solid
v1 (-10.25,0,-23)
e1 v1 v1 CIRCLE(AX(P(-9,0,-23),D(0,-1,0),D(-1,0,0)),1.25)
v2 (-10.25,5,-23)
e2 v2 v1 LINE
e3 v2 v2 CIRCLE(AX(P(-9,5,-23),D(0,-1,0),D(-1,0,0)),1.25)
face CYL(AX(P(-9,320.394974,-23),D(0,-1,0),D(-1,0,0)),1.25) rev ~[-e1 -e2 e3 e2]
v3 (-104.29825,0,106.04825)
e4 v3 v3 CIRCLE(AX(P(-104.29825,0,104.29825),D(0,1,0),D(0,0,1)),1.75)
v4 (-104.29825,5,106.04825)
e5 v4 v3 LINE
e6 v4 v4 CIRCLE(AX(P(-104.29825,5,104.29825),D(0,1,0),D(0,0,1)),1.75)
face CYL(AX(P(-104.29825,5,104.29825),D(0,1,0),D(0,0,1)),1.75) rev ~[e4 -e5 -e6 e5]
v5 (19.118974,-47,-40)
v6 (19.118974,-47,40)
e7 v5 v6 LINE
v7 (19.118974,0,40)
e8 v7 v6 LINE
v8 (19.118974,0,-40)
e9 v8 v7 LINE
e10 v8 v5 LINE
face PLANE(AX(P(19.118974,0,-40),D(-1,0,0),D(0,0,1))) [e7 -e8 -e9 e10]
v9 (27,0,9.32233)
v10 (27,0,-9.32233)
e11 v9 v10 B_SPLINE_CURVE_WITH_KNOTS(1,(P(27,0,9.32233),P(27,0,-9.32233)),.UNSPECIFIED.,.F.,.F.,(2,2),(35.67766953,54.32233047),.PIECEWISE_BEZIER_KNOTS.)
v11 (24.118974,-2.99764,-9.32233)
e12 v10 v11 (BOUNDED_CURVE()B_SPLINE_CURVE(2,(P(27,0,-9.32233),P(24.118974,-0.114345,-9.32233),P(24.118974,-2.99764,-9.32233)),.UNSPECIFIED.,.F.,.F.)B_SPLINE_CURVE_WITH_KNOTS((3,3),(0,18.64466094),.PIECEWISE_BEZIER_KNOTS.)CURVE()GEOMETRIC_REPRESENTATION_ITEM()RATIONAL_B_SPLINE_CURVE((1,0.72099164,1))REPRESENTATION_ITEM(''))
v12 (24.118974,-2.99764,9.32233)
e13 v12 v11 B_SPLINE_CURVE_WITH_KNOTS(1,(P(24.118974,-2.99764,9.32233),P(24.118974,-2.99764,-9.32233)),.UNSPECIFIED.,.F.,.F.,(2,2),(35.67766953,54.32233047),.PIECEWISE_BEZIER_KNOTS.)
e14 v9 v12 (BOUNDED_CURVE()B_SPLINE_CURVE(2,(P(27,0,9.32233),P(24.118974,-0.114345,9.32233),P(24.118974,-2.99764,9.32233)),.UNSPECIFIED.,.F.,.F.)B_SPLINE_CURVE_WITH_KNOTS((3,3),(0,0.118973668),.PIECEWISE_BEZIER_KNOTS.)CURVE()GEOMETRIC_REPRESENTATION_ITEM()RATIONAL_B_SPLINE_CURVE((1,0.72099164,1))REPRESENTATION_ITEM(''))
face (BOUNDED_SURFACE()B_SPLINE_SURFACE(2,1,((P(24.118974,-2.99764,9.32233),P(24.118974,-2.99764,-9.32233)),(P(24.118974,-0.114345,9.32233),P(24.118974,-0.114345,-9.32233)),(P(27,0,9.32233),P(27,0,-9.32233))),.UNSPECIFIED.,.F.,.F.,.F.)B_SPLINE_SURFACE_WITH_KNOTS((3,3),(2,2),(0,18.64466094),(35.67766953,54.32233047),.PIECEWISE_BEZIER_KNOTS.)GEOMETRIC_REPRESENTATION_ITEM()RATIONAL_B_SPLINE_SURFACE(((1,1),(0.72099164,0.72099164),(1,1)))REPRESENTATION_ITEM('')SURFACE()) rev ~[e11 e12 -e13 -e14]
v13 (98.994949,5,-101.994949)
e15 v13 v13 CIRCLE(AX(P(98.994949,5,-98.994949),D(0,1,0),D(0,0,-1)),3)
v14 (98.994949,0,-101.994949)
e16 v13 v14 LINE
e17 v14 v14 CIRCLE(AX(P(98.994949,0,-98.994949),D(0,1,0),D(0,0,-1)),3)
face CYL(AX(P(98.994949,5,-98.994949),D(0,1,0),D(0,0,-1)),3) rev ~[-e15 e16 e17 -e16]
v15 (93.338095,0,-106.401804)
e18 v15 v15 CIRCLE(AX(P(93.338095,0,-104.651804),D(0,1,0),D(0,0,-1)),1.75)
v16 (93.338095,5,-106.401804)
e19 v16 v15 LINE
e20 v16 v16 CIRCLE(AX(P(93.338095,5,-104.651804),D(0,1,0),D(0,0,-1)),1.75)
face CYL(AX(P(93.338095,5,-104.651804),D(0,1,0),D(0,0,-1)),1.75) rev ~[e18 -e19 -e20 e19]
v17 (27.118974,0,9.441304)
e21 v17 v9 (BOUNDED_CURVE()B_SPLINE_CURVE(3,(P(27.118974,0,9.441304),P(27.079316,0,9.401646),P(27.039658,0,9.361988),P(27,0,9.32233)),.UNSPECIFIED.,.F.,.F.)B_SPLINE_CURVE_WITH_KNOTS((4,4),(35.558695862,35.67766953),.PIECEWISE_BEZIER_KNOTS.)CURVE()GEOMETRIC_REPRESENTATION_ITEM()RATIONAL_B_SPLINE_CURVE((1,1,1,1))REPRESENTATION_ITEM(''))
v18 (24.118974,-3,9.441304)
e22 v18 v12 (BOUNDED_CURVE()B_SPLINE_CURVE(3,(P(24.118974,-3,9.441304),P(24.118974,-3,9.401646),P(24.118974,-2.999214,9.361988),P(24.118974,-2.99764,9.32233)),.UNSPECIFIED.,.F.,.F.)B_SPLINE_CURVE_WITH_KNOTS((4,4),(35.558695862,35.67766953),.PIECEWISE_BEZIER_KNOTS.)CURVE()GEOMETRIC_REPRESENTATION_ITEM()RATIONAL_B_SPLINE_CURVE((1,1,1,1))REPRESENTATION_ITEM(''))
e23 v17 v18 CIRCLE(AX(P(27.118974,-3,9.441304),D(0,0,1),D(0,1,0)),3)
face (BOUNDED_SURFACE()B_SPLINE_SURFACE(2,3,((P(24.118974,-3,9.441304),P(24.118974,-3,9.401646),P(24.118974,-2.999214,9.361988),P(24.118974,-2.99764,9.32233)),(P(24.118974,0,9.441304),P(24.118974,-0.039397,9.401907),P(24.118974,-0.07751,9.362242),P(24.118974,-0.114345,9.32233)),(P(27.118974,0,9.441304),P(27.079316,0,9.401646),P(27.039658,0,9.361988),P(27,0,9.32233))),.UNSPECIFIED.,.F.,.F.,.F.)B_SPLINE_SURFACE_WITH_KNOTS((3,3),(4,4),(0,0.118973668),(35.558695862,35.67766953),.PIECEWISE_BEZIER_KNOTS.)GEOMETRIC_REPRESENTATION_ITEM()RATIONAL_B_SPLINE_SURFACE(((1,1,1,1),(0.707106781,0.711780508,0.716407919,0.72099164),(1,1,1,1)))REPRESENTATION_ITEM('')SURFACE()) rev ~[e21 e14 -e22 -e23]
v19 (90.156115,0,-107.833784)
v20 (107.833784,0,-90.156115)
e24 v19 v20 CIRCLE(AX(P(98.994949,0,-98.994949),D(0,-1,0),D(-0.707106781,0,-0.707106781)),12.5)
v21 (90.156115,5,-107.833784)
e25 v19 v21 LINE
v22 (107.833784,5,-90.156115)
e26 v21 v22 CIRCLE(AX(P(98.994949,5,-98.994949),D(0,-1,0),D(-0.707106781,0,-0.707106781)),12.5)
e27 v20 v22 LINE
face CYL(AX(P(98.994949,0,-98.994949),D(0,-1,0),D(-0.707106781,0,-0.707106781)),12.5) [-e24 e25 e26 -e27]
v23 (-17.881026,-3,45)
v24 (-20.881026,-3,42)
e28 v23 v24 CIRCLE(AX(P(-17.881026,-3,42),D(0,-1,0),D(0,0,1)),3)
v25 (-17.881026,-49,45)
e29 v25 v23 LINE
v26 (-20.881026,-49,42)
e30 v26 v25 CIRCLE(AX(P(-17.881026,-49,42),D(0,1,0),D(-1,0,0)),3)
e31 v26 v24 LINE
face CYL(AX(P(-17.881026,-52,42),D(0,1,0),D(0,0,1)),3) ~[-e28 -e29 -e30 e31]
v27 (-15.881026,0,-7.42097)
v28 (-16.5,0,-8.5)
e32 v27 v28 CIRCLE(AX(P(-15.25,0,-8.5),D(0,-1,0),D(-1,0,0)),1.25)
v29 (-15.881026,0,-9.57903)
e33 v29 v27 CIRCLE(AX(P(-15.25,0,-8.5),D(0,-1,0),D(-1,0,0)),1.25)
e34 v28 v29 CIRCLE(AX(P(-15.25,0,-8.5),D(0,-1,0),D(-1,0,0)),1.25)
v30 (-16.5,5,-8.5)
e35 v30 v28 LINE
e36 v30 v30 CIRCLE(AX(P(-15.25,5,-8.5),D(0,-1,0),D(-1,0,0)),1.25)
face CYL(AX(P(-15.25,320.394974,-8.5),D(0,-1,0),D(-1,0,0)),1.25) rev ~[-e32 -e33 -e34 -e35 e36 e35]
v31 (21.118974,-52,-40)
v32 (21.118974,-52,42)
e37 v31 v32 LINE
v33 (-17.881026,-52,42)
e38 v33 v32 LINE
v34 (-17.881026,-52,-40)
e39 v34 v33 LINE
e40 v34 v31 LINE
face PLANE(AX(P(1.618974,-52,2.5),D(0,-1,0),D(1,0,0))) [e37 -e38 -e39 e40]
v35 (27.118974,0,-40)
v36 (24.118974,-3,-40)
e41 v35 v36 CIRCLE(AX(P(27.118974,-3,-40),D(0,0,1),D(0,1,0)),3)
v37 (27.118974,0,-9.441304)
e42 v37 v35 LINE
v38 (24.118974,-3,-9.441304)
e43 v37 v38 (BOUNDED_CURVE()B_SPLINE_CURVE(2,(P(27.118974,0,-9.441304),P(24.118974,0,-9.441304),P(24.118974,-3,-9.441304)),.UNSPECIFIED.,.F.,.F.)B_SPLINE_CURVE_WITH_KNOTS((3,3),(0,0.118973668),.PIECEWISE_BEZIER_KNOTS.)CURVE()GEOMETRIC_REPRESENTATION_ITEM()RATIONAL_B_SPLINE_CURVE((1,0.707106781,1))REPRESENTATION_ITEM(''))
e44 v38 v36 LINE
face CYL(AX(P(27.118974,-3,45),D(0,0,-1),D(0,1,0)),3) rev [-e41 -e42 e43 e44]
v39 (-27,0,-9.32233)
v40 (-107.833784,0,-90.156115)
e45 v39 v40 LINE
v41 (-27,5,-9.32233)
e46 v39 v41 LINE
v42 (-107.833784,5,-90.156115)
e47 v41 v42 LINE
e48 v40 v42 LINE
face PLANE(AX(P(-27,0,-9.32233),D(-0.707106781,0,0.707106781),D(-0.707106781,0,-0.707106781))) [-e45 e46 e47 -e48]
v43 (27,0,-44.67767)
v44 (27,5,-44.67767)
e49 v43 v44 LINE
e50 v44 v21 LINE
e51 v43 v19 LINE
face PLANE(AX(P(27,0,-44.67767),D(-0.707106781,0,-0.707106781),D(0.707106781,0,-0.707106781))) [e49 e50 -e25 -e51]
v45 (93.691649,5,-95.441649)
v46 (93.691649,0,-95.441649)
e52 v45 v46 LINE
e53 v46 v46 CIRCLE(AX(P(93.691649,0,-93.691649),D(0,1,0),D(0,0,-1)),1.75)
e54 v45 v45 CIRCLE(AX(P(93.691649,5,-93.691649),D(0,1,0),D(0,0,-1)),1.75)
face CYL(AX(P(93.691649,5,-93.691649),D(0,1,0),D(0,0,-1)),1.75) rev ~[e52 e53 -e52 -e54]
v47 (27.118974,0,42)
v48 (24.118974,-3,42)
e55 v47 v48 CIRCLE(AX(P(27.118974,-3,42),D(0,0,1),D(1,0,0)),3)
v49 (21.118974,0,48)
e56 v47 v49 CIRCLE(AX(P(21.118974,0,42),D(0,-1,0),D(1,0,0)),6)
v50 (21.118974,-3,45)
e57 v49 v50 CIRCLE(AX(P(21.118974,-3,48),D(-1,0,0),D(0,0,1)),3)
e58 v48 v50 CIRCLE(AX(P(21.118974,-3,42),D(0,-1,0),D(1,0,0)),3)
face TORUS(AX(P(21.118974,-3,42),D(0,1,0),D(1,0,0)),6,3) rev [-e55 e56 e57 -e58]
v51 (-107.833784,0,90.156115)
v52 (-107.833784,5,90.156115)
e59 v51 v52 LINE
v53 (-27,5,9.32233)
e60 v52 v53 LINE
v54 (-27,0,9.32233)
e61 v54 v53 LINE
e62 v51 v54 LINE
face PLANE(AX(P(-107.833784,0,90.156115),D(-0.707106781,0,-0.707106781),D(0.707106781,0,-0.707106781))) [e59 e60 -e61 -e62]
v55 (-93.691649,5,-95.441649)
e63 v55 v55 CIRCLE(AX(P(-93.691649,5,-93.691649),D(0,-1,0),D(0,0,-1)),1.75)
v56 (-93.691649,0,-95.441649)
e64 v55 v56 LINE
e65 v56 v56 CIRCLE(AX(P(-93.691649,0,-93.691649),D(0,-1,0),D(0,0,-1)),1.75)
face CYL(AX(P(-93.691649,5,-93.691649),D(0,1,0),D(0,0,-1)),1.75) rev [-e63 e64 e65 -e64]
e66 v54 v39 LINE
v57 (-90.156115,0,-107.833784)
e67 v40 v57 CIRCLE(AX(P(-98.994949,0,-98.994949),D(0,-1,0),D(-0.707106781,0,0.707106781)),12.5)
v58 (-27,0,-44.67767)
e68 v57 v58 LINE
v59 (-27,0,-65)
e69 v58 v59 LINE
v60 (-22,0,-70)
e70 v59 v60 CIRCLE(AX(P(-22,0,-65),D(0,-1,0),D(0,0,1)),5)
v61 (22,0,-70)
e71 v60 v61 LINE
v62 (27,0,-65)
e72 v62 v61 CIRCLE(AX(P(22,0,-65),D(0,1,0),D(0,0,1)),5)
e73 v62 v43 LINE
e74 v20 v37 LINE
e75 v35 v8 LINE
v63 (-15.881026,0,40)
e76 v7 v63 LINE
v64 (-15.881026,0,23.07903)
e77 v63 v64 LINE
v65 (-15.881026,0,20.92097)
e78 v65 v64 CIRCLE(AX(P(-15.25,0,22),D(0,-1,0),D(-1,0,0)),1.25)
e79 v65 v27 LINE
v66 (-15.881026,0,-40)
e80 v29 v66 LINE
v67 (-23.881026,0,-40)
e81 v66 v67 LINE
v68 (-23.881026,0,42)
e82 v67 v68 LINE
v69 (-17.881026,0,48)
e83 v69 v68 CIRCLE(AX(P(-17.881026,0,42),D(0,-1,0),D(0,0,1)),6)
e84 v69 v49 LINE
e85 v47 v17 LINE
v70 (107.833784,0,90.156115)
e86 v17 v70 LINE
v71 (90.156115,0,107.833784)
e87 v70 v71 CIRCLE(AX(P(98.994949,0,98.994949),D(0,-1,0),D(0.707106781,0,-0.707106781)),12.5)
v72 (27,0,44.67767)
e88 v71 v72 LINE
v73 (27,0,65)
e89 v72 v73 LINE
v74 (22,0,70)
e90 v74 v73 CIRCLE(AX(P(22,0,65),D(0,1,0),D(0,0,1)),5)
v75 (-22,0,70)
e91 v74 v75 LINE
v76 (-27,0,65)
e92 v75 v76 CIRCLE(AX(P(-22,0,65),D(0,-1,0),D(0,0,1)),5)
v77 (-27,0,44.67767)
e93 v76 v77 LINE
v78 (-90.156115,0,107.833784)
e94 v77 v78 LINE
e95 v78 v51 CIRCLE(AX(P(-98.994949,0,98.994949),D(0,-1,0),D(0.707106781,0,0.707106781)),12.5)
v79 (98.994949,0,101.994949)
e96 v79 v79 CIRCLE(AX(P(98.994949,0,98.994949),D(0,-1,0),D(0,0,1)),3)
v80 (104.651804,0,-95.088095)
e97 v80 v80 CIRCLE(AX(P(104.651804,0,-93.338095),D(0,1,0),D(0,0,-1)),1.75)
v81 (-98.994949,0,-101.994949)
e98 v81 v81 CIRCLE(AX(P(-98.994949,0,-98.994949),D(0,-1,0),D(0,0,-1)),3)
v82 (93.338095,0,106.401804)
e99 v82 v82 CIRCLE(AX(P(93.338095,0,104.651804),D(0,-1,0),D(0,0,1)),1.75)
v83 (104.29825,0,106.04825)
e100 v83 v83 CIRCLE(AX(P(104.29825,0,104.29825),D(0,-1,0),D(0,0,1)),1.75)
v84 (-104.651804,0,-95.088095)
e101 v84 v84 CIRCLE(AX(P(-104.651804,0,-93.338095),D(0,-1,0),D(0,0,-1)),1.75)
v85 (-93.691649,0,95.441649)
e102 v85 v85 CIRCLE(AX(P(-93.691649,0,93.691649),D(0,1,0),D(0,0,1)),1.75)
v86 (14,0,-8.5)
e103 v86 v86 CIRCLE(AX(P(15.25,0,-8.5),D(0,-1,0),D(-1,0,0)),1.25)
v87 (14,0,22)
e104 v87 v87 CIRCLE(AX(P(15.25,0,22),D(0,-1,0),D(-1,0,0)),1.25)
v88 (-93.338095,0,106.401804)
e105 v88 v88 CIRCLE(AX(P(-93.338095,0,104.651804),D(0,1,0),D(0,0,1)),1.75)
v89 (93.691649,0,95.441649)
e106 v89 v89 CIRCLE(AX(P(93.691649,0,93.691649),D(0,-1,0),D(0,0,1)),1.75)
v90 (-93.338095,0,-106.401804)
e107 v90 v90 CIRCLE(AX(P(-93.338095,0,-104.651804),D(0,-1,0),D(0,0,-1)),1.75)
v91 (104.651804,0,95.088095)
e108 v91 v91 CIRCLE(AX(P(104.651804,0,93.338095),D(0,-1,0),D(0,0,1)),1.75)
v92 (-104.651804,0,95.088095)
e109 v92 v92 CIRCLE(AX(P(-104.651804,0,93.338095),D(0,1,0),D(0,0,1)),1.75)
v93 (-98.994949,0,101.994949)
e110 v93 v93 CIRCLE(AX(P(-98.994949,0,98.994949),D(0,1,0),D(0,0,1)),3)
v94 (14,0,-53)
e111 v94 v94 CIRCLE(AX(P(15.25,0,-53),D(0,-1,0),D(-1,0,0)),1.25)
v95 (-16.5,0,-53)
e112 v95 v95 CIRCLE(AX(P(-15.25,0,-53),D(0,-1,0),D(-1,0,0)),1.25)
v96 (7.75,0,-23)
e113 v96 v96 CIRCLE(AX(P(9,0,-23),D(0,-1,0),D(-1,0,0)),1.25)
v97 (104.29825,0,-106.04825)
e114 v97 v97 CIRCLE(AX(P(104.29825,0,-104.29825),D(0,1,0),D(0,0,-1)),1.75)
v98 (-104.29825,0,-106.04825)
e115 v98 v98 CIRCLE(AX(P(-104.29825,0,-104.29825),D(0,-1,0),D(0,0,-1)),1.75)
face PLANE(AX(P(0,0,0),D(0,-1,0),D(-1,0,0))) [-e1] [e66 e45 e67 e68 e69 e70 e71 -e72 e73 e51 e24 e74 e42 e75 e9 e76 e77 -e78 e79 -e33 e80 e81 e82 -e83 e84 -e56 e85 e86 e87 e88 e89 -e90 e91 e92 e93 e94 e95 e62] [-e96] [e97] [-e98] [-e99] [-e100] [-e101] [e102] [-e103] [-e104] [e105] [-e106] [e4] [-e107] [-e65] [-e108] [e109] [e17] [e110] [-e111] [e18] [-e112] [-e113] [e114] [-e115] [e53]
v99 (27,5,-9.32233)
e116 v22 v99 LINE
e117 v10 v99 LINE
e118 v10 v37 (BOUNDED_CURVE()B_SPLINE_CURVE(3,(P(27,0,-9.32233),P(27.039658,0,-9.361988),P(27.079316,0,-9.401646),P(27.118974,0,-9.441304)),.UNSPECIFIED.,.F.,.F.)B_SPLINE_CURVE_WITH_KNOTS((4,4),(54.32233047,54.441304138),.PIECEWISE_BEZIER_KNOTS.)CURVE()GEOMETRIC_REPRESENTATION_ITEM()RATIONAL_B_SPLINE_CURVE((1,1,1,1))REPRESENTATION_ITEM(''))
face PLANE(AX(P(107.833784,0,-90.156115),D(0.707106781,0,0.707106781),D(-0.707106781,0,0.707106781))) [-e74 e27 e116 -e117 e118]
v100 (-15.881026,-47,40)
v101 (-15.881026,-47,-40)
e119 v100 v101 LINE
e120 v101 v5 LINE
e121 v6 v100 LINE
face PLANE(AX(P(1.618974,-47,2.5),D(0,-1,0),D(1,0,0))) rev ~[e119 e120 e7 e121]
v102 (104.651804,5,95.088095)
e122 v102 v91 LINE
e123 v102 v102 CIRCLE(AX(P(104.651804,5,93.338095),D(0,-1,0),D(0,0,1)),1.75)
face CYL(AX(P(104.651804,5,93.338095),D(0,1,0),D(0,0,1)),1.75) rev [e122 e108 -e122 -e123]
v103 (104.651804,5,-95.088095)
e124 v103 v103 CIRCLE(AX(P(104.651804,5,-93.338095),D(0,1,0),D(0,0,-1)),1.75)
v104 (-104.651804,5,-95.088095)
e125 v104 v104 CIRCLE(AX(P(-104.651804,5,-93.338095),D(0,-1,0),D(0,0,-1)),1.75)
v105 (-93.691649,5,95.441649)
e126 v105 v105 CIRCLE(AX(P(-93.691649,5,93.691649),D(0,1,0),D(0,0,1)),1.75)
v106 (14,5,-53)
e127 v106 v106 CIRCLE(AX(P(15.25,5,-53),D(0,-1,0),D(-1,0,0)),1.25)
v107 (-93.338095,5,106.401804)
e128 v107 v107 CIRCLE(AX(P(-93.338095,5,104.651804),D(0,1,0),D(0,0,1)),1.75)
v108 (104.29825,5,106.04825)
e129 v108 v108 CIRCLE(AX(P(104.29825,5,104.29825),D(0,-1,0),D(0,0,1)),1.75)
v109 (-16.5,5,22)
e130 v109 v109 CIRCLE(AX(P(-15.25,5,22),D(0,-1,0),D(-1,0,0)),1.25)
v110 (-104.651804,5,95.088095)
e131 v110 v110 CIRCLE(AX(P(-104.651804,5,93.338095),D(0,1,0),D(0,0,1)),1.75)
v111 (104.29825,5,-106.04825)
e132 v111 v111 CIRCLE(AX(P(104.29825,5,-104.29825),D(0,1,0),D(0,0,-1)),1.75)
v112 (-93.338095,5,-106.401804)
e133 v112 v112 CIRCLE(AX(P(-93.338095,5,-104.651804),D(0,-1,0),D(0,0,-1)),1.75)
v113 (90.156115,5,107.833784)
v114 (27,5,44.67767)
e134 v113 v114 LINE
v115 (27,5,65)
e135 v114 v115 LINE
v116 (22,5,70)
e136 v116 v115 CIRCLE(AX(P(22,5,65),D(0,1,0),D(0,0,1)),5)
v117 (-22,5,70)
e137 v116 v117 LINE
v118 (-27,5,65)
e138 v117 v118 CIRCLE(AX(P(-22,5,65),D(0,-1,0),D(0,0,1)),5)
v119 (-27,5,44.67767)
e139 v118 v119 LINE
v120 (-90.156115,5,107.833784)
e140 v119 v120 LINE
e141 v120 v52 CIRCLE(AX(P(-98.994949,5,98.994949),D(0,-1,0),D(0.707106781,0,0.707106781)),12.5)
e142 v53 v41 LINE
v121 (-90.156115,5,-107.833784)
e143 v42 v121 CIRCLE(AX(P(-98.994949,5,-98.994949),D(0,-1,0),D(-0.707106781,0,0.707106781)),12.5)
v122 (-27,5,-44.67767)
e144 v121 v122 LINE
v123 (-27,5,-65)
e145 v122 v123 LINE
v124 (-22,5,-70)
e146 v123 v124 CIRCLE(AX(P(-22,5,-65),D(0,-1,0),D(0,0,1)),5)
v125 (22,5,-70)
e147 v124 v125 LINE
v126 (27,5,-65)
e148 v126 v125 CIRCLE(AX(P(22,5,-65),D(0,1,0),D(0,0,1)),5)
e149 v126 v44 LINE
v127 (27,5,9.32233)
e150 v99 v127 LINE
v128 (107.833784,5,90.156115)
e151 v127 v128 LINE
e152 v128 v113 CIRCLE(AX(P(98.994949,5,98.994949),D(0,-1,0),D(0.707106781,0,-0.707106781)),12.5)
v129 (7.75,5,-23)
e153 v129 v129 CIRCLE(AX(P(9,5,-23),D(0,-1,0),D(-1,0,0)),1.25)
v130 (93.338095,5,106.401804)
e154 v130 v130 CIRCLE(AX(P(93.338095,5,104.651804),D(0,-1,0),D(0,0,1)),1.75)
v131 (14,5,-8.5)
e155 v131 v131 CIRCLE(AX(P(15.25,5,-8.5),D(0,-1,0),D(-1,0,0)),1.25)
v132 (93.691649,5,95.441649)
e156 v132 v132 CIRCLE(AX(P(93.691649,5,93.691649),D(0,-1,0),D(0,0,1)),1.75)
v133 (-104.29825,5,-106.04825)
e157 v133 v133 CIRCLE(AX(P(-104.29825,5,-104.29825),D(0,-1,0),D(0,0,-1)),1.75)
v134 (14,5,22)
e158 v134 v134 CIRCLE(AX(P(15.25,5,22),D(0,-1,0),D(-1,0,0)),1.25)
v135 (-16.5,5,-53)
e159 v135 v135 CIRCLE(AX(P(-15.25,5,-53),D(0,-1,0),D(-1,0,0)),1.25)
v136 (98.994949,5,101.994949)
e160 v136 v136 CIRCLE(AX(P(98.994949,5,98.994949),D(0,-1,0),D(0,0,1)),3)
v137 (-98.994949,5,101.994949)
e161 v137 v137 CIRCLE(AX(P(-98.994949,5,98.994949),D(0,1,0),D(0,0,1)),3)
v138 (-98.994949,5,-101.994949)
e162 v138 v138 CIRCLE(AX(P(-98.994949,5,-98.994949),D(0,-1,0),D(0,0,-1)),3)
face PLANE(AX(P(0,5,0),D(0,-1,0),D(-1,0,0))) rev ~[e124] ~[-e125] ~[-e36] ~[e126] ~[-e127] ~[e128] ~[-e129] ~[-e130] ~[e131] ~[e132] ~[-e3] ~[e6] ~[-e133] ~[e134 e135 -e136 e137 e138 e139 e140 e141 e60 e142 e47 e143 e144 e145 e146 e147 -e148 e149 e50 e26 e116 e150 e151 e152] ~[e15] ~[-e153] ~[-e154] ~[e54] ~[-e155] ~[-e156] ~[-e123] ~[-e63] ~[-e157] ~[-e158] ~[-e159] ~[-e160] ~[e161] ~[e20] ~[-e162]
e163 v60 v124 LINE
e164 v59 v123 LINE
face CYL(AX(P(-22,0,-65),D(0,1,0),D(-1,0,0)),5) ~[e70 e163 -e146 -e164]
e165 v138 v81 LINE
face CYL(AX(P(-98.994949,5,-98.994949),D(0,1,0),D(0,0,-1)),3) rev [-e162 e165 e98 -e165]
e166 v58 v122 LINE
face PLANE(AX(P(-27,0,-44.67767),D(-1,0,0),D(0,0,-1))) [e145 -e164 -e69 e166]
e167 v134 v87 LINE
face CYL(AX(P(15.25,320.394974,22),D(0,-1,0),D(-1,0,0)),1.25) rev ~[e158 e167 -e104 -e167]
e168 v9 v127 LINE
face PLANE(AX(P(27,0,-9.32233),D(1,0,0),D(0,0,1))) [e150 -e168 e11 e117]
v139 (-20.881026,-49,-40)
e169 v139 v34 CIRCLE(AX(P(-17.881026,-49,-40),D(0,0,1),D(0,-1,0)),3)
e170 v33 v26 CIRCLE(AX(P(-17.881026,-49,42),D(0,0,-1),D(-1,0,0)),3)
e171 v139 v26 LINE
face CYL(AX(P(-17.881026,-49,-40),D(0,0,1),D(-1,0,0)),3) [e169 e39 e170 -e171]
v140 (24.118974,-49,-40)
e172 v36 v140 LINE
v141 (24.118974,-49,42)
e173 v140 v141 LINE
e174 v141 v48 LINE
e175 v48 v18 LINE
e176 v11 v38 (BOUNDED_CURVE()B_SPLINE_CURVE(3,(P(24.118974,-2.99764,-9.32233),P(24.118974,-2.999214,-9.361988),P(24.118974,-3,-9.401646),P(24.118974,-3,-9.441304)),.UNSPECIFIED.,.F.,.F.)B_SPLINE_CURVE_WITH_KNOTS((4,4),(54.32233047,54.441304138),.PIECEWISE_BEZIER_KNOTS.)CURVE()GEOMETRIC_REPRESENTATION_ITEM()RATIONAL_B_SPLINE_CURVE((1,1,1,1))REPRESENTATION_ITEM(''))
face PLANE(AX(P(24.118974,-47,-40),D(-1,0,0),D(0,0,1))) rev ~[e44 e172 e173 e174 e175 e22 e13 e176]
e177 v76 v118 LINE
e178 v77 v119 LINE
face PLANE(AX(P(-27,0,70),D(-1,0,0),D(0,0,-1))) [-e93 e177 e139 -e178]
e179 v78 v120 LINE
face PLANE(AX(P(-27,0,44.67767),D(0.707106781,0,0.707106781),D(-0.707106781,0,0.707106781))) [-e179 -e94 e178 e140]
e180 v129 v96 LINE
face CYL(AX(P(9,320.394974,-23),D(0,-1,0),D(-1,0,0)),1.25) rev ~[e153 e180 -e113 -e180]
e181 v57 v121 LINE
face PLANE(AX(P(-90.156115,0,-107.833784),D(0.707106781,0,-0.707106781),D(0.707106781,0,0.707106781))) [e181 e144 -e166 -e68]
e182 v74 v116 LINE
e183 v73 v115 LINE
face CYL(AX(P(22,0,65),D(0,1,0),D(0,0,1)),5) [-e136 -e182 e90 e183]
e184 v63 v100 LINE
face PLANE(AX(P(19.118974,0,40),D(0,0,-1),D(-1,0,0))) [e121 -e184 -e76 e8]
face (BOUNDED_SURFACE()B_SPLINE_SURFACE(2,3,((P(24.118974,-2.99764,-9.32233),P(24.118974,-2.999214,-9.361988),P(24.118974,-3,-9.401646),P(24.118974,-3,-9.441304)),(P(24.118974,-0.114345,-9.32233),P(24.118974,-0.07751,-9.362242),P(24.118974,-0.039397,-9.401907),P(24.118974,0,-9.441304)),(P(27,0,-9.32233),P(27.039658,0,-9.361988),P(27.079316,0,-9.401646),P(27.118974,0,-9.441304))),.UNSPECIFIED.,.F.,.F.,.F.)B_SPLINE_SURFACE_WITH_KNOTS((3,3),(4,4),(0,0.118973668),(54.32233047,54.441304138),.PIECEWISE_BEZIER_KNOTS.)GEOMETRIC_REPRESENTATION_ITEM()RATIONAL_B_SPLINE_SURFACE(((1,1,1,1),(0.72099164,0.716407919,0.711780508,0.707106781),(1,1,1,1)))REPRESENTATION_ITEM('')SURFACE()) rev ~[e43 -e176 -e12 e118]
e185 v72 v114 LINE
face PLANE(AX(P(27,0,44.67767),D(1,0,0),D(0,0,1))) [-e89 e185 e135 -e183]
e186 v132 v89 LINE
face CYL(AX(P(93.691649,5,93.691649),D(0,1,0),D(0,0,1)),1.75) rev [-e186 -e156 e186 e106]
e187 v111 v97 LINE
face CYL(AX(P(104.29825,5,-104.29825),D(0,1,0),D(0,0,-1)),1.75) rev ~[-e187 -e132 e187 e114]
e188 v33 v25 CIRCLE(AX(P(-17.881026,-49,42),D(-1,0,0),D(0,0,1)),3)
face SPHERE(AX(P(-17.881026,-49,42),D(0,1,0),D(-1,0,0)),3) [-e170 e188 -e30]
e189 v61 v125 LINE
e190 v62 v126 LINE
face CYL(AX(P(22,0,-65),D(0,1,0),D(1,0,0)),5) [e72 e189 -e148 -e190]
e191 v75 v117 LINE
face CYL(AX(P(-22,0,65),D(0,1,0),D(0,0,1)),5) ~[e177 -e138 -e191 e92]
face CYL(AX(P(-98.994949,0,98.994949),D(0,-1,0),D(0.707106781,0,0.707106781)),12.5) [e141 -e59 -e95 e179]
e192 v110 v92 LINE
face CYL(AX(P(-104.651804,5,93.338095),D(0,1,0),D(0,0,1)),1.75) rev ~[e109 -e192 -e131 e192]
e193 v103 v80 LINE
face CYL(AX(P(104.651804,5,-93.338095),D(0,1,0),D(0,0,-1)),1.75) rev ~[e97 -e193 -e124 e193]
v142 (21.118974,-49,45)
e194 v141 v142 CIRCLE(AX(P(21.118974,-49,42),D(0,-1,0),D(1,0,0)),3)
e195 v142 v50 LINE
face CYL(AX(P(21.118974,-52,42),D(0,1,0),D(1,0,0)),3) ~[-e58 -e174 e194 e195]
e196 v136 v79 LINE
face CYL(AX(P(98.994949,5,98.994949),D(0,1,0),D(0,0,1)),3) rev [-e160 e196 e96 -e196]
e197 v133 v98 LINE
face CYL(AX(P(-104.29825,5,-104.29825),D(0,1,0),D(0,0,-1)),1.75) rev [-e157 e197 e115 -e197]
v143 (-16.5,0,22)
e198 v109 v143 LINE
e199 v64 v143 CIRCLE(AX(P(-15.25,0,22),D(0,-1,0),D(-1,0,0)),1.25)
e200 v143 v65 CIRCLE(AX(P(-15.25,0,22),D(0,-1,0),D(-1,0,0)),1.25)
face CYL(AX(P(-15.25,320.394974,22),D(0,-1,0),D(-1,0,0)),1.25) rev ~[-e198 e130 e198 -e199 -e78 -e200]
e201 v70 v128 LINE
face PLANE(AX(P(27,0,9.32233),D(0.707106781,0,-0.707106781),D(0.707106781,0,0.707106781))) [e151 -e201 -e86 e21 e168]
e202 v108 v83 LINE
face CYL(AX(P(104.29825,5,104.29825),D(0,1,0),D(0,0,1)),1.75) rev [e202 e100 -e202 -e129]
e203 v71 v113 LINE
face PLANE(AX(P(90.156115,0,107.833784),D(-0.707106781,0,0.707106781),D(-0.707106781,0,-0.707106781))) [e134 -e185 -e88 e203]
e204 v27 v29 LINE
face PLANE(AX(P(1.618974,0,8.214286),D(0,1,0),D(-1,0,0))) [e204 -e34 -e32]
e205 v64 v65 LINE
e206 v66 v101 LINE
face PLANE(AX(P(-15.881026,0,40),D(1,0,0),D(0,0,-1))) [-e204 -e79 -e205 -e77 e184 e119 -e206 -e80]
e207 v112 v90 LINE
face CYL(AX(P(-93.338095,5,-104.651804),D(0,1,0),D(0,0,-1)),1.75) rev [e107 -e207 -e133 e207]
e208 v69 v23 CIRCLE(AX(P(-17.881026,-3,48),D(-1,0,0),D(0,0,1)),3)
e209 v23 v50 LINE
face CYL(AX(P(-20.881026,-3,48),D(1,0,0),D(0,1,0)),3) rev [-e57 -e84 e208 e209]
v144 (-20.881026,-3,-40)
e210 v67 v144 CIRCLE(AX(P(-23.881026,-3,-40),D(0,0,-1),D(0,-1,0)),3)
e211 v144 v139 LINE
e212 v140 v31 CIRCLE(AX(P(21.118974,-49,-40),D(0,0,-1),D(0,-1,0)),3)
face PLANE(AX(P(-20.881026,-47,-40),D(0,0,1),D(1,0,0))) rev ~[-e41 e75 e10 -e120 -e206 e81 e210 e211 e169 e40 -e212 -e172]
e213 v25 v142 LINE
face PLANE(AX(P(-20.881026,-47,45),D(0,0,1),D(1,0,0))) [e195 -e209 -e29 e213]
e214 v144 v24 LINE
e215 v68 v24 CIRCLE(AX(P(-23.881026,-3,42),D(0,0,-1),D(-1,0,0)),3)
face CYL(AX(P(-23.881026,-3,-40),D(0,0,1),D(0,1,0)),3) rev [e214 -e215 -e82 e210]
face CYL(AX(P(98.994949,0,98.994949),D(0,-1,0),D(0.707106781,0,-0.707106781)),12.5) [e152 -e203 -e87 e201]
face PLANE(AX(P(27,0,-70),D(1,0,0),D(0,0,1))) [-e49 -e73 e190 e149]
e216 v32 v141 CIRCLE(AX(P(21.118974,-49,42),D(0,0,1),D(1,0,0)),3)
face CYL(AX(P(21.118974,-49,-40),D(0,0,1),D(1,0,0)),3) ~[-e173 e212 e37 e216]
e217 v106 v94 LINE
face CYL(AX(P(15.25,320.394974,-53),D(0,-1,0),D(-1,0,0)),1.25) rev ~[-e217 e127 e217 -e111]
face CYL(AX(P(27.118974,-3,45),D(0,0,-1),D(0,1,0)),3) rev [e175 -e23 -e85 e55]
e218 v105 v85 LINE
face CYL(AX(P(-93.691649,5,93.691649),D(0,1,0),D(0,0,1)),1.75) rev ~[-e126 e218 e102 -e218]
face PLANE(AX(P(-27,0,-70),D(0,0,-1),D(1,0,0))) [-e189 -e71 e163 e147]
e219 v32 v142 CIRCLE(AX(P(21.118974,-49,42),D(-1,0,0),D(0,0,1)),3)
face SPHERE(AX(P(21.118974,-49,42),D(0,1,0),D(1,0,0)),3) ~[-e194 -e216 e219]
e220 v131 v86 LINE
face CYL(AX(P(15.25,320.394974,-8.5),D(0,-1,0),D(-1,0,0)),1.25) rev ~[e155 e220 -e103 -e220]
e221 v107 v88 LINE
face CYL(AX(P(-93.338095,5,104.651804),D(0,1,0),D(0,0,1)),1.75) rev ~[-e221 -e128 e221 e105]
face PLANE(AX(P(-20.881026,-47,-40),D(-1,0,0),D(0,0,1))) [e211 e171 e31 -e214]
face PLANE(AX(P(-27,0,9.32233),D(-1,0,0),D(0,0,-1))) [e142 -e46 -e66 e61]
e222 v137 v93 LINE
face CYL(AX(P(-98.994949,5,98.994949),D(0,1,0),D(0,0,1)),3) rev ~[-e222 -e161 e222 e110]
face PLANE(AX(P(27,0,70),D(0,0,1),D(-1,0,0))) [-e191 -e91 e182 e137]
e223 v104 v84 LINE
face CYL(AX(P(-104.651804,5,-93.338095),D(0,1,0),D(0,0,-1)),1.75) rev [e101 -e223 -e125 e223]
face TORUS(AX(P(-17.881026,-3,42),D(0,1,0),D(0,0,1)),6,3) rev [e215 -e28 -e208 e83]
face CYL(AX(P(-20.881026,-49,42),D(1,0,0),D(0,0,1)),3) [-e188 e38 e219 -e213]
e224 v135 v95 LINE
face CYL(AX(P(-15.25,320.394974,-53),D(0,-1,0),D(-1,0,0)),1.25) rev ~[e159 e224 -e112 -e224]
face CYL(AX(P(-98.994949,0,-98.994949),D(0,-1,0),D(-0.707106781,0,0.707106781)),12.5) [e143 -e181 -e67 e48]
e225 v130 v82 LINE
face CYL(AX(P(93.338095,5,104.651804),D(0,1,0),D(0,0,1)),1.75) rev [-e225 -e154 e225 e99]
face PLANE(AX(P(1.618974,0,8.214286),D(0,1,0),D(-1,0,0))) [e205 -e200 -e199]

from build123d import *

# Parameters (mm, degrees)
BOSS_EXTRUDE1_DEPTH       = 5
CUT_EXTRUDE1_REACH        = 159.757
SKETCH3_R                 = 3
SKETCH3_R_2               = 1.75
MIRROR2_COPY_1_REACH      = 159.757
MIRROR2_COPY_1_SKETCH_R   = 3
MIRROR2_COPY_1_SKETCH_R_2 = 1.75
M3X0_5_TAPPED_HOLE1_D     = 2.5
BOSS_EXTRUDE2_DEPTH       = 47
SKETCH7_W                 = 45
SKETCH7_H                 = 85
BOSS_EXTRUDE3_DEPTH       = 5
FILLET1_R                 = 5
FILLET2_R                 = 3


with BuildPart() as part:
    # Sketch2 → Boss-Extrude1 (new body)
    with BuildSketch(Plane(origin=(0, 0, 0), x_dir=(1, 0, 0), z_dir=(0, 1, 0))):
        with BuildLine():
            Line((-27, 70), (27, 70))
            Line((27, 70), (27, 44.67766953))
            Line((27, 44.67766953), (90.156114601, 107.833784131))
            ThreePointArc((90.156114601, 107.833784131), (107.833784131, 107.833784131), (107.833784131, 90.156114601))
            Line((107.833784131, 90.156114601), (27, 9.32233047))
            Line((27, 9.32233047), (27, -9.32233047))
            Line((27, -9.32233047), (107.833784131, -90.156114601))
            ThreePointArc((107.833784131, -90.156114601), (107.833784131, -107.833784131), (90.156114601, -107.833784131))
            Line((90.156114601, -107.833784131), (27, -44.67766953))
            Line((27, -44.67766953), (27, -70))
            Line((27, -70), (-27, -70))
            Line((-27, -70), (-27, -44.67766953))
            Line((-27, -44.67766953), (-90.156114601, -107.833784131))
            ThreePointArc((-90.156114601, -107.833784131), (-107.833784131, -107.833784131), (-107.833784131, -90.156114601))
            Line((-107.833784131, -90.156114601), (-27, -9.32233047))
            Line((-27, -9.32233047), (-27, 9.32233047))
            Line((-27, 9.32233047), (-107.833784131, 90.156114601))
            ThreePointArc((-107.833784131, 90.156114601), (-107.833784131, 107.833784131), (-90.156114601, 107.833784131))
            Line((-90.156114601, 107.833784131), (-27, 44.67766953))
            Line((-27, 44.67766953), (-27, 70))
        make_face()
    extrude(amount=BOSS_EXTRUDE1_DEPTH)

    # Sketch3 → Cut-Extrude1 (cut, up to next)
    with BuildSketch(Plane(origin=(0, 5, 0), x_dir=(1, 0, 0), z_dir=(0, 1, 0)), mode=Mode.PRIVATE) as cut_extrude1_sk1:
        with Locations(Location((-98.994949366, -98.994949366, 0), (0, 0, 270))):
            Circle(SKETCH3_R)
    cut_extrude1_tool1 = extrude(cut_extrude1_sk1.sketch, amount=-CUT_EXTRUDE1_REACH, mode=Mode.PRIVATE) & part.part
    # Sketch3 → Cut-Extrude1 (cut, up to next)
    with BuildSketch(Plane(origin=(0, 5, 0), x_dir=(1, 0, 0), z_dir=(0, 1, 0)), mode=Mode.PRIVATE) as cut_extrude1_sk2:
        with Locations(Location((-104.298250225, -104.298250225, 0), (0, 0, 270))):
            Circle(SKETCH3_R_2)
    cut_extrude1_tool2 = extrude(cut_extrude1_sk2.sketch, amount=-CUT_EXTRUDE1_REACH, mode=Mode.PRIVATE) & part.part
    # Sketch3 → Cut-Extrude1 (cut, up to next)
    with BuildSketch(Plane(origin=(0, 5, 0), x_dir=(1, 0, 0), z_dir=(0, 1, 0)), mode=Mode.PRIVATE) as cut_extrude1_sk3:
        with Locations(Location((-93.338095117, -104.651803616, 0), (0, 0, 270))):
            Circle(SKETCH3_R_2)
    cut_extrude1_tool3 = extrude(cut_extrude1_sk3.sketch, amount=-CUT_EXTRUDE1_REACH, mode=Mode.PRIVATE) & part.part
    # Sketch3 → Cut-Extrude1 (cut, up to next)
    with BuildSketch(Plane(origin=(0, 5, 0), x_dir=(1, 0, 0), z_dir=(0, 1, 0)), mode=Mode.PRIVATE) as cut_extrude1_sk4:
        with Locations(Location((-104.651803616, -93.338095117, 0), (0, 0, 270))):
            Circle(SKETCH3_R_2)
    cut_extrude1_tool4 = extrude(cut_extrude1_sk4.sketch, amount=-CUT_EXTRUDE1_REACH, mode=Mode.PRIVATE) & part.part
    # Sketch3 → Cut-Extrude1 (cut, up to next)
    with BuildSketch(Plane(origin=(0, 5, 0), x_dir=(1, 0, 0), z_dir=(0, 1, 0)), mode=Mode.PRIVATE) as cut_extrude1_sk5:
        with Locations(Location((-93.691648507, -93.691648507, 0), (0, 0, 270))):
            Circle(SKETCH3_R_2)
    cut_extrude1_tool5 = extrude(cut_extrude1_sk5.sketch, amount=-CUT_EXTRUDE1_REACH, mode=Mode.PRIVATE) & part.part
    cut_extrude1_1 = cut_extrude1_tool1.solids().sort_by_distance((-98.994949, 5, 98.994949))[0]
    add(cut_extrude1_1, mode=Mode.SUBTRACT)
    cut_extrude1_2 = cut_extrude1_tool2.solids().sort_by_distance((-104.29825, 5, 104.29825))[0]
    add(cut_extrude1_2, mode=Mode.SUBTRACT)
    cut_extrude1_3 = cut_extrude1_tool3.solids().sort_by_distance((-93.338095, 5, 104.651804))[0]
    add(cut_extrude1_3, mode=Mode.SUBTRACT)
    cut_extrude1_4 = cut_extrude1_tool4.solids().sort_by_distance((-104.651804, 5, 93.338095))[0]
    add(cut_extrude1_4, mode=Mode.SUBTRACT)
    cut_extrude1_5 = cut_extrude1_tool5.solids().sort_by_distance((-93.691649, 5, 93.691649))[0]
    add(cut_extrude1_5, mode=Mode.SUBTRACT)
    cut_extrude1 = cut_extrude1_1 + cut_extrude1_2 + cut_extrude1_3 + cut_extrude1_4 + cut_extrude1_5  # Cut-Extrude1 as one shape, for the pattern or mirror that repeats it

    # Mirror1: Cut-Extrude1 across plane
    add(cut_extrude1.mirror(Plane(origin=(0, 0, 0), x_dir=(0, 0, 1), z_dir=(1, 0, 0))), mode=Mode.SUBTRACT)

    # Mirror2: Cut-Extrude1 across plane
    add(cut_extrude1.mirror(Plane.XY), mode=Mode.SUBTRACT)

    # Mirror2 copy 1 sketch → Mirror2 copy 1 (cut, up to next)
    with BuildSketch(Plane(origin=(0, 5, 0), x_dir=(-1, 0, 0), z_dir=(0, 1, 0)), mode=Mode.PRIVATE) as mirror2_copy_1_sk1:
        with Locations(Location((-98.994949366, -98.994949366, 0), (0, 0, 270))):
            Circle(MIRROR2_COPY_1_SKETCH_R)
    mirror2_copy_1_tool1 = extrude(mirror2_copy_1_sk1.sketch, amount=-MIRROR2_COPY_1_REACH, mode=Mode.PRIVATE) & part.part
    # Mirror2 copy 1 sketch → Mirror2 copy 1 (cut, up to next)
    with BuildSketch(Plane(origin=(0, 5, 0), x_dir=(-1, 0, 0), z_dir=(0, 1, 0)), mode=Mode.PRIVATE) as mirror2_copy_1_sk2:
        with Locations(Location((-104.298250225, -104.298250225, 0), (0, 0, 270))):
            Circle(MIRROR2_COPY_1_SKETCH_R_2)
    mirror2_copy_1_tool2 = extrude(mirror2_copy_1_sk2.sketch, amount=-MIRROR2_COPY_1_REACH, mode=Mode.PRIVATE) & part.part
    # Mirror2 copy 1 sketch → Mirror2 copy 1 (cut, up to next)
    with BuildSketch(Plane(origin=(0, 5, 0), x_dir=(-1, 0, 0), z_dir=(0, 1, 0)), mode=Mode.PRIVATE) as mirror2_copy_1_sk3:
        with Locations(Location((-93.338095117, -104.651803616, 0), (0, 0, 270))):
            Circle(MIRROR2_COPY_1_SKETCH_R_2)
    mirror2_copy_1_tool3 = extrude(mirror2_copy_1_sk3.sketch, amount=-MIRROR2_COPY_1_REACH, mode=Mode.PRIVATE) & part.part
    # Mirror2 copy 1 sketch → Mirror2 copy 1 (cut, up to next)
    with BuildSketch(Plane(origin=(0, 5, 0), x_dir=(-1, 0, 0), z_dir=(0, 1, 0)), mode=Mode.PRIVATE) as mirror2_copy_1_sk4:
        with Locations(Location((-104.651803616, -93.338095117, 0), (0, 0, 270))):
            Circle(MIRROR2_COPY_1_SKETCH_R_2)
    mirror2_copy_1_tool4 = extrude(mirror2_copy_1_sk4.sketch, amount=-MIRROR2_COPY_1_REACH, mode=Mode.PRIVATE) & part.part
    # Mirror2 copy 1 sketch → Mirror2 copy 1 (cut, up to next)
    with BuildSketch(Plane(origin=(0, 5, 0), x_dir=(-1, 0, 0), z_dir=(0, 1, 0)), mode=Mode.PRIVATE) as mirror2_copy_1_sk5:
        with Locations(Location((-93.691648507, -93.691648507, 0), (0, 0, 270))):
            Circle(MIRROR2_COPY_1_SKETCH_R_2)
    mirror2_copy_1_tool5 = extrude(mirror2_copy_1_sk5.sketch, amount=-MIRROR2_COPY_1_REACH, mode=Mode.PRIVATE) & part.part
    add(mirror2_copy_1_tool1.solids().sort_by_distance((98.994949, 5, -98.994949))[0], mode=Mode.SUBTRACT)
    add(mirror2_copy_1_tool2.solids().sort_by_distance((104.29825, 5, -104.29825))[0], mode=Mode.SUBTRACT)
    add(mirror2_copy_1_tool3.solids().sort_by_distance((93.338095, 5, -104.651804))[0], mode=Mode.SUBTRACT)
    add(mirror2_copy_1_tool4.solids().sort_by_distance((104.651804, 5, -93.338095))[0], mode=Mode.SUBTRACT)
    add(mirror2_copy_1_tool5.solids().sort_by_distance((93.691649, 5, -93.691649))[0], mode=Mode.SUBTRACT)

    # M3x0.5 Tapped Hole1 (through all)
    with Locations(Plane(origin=(0, 5, 0), x_dir=(1, 0, 0), z_dir=(0, 1, 0))):
        with Locations((-15.25, -22), (15.25, -22), (-15.25, 8.5), (15.25, 8.5), (-9, 23), (9, 23), (-15.25, 53), (15.25, 53)):
            Hole(M3X0_5_TAPPED_HOLE1_D / 2)

    # Sketch6 → Boss-Extrude2 (add)
    with BuildSketch(Plane.XZ):
        Polygon((-15.881026332, -40), (-20.881026332, -40), (-20.881026332, 45), (24.118973668, 45), (24.118973668, -40), (19.118973668, -40), (19.118973668, 40), (-15.881026332, 40), align=None)
    extrude(amount=BOSS_EXTRUDE2_DEPTH)

    # Sketch7 → Boss-Extrude3 (add)
    with BuildSketch(Plane.XZ.offset(47)):
        with Locations((1.618973668, 2.5)):
            Rectangle(SKETCH7_W, SKETCH7_H)
    extrude(amount=BOSS_EXTRUDE3_DEPTH)

    # Fillet1
    fillet1_edges = [part.edges().sort_by_distance(p)[0] for p in [
        (27, 2.5, 70),
        (-27, 2.5, 70),
        (-27, 2.5, -70),
        (27, 2.5, -70),
    ]]
    fillet(fillet1_edges, radius=FILLET1_R)

    # Fillet2
    fillet2_edges = [part.edges().sort_by_distance(p)[0] for p in [
        (-20.881026332, 0, 2.5),
        (-20.881026332, -26, 45),
        (24.118973668, 0, 2.5),
        (1.618973668, 0, 45),
        (24.118973668, -26, 45),
        (-20.881026332, -52, 2.5),
        (24.118973668, -52, 2.5),
        (1.618973668, -52, 45),
    ]]
    fillet(fillet2_edges, radius=FILLET2_R)


solid = part.part
